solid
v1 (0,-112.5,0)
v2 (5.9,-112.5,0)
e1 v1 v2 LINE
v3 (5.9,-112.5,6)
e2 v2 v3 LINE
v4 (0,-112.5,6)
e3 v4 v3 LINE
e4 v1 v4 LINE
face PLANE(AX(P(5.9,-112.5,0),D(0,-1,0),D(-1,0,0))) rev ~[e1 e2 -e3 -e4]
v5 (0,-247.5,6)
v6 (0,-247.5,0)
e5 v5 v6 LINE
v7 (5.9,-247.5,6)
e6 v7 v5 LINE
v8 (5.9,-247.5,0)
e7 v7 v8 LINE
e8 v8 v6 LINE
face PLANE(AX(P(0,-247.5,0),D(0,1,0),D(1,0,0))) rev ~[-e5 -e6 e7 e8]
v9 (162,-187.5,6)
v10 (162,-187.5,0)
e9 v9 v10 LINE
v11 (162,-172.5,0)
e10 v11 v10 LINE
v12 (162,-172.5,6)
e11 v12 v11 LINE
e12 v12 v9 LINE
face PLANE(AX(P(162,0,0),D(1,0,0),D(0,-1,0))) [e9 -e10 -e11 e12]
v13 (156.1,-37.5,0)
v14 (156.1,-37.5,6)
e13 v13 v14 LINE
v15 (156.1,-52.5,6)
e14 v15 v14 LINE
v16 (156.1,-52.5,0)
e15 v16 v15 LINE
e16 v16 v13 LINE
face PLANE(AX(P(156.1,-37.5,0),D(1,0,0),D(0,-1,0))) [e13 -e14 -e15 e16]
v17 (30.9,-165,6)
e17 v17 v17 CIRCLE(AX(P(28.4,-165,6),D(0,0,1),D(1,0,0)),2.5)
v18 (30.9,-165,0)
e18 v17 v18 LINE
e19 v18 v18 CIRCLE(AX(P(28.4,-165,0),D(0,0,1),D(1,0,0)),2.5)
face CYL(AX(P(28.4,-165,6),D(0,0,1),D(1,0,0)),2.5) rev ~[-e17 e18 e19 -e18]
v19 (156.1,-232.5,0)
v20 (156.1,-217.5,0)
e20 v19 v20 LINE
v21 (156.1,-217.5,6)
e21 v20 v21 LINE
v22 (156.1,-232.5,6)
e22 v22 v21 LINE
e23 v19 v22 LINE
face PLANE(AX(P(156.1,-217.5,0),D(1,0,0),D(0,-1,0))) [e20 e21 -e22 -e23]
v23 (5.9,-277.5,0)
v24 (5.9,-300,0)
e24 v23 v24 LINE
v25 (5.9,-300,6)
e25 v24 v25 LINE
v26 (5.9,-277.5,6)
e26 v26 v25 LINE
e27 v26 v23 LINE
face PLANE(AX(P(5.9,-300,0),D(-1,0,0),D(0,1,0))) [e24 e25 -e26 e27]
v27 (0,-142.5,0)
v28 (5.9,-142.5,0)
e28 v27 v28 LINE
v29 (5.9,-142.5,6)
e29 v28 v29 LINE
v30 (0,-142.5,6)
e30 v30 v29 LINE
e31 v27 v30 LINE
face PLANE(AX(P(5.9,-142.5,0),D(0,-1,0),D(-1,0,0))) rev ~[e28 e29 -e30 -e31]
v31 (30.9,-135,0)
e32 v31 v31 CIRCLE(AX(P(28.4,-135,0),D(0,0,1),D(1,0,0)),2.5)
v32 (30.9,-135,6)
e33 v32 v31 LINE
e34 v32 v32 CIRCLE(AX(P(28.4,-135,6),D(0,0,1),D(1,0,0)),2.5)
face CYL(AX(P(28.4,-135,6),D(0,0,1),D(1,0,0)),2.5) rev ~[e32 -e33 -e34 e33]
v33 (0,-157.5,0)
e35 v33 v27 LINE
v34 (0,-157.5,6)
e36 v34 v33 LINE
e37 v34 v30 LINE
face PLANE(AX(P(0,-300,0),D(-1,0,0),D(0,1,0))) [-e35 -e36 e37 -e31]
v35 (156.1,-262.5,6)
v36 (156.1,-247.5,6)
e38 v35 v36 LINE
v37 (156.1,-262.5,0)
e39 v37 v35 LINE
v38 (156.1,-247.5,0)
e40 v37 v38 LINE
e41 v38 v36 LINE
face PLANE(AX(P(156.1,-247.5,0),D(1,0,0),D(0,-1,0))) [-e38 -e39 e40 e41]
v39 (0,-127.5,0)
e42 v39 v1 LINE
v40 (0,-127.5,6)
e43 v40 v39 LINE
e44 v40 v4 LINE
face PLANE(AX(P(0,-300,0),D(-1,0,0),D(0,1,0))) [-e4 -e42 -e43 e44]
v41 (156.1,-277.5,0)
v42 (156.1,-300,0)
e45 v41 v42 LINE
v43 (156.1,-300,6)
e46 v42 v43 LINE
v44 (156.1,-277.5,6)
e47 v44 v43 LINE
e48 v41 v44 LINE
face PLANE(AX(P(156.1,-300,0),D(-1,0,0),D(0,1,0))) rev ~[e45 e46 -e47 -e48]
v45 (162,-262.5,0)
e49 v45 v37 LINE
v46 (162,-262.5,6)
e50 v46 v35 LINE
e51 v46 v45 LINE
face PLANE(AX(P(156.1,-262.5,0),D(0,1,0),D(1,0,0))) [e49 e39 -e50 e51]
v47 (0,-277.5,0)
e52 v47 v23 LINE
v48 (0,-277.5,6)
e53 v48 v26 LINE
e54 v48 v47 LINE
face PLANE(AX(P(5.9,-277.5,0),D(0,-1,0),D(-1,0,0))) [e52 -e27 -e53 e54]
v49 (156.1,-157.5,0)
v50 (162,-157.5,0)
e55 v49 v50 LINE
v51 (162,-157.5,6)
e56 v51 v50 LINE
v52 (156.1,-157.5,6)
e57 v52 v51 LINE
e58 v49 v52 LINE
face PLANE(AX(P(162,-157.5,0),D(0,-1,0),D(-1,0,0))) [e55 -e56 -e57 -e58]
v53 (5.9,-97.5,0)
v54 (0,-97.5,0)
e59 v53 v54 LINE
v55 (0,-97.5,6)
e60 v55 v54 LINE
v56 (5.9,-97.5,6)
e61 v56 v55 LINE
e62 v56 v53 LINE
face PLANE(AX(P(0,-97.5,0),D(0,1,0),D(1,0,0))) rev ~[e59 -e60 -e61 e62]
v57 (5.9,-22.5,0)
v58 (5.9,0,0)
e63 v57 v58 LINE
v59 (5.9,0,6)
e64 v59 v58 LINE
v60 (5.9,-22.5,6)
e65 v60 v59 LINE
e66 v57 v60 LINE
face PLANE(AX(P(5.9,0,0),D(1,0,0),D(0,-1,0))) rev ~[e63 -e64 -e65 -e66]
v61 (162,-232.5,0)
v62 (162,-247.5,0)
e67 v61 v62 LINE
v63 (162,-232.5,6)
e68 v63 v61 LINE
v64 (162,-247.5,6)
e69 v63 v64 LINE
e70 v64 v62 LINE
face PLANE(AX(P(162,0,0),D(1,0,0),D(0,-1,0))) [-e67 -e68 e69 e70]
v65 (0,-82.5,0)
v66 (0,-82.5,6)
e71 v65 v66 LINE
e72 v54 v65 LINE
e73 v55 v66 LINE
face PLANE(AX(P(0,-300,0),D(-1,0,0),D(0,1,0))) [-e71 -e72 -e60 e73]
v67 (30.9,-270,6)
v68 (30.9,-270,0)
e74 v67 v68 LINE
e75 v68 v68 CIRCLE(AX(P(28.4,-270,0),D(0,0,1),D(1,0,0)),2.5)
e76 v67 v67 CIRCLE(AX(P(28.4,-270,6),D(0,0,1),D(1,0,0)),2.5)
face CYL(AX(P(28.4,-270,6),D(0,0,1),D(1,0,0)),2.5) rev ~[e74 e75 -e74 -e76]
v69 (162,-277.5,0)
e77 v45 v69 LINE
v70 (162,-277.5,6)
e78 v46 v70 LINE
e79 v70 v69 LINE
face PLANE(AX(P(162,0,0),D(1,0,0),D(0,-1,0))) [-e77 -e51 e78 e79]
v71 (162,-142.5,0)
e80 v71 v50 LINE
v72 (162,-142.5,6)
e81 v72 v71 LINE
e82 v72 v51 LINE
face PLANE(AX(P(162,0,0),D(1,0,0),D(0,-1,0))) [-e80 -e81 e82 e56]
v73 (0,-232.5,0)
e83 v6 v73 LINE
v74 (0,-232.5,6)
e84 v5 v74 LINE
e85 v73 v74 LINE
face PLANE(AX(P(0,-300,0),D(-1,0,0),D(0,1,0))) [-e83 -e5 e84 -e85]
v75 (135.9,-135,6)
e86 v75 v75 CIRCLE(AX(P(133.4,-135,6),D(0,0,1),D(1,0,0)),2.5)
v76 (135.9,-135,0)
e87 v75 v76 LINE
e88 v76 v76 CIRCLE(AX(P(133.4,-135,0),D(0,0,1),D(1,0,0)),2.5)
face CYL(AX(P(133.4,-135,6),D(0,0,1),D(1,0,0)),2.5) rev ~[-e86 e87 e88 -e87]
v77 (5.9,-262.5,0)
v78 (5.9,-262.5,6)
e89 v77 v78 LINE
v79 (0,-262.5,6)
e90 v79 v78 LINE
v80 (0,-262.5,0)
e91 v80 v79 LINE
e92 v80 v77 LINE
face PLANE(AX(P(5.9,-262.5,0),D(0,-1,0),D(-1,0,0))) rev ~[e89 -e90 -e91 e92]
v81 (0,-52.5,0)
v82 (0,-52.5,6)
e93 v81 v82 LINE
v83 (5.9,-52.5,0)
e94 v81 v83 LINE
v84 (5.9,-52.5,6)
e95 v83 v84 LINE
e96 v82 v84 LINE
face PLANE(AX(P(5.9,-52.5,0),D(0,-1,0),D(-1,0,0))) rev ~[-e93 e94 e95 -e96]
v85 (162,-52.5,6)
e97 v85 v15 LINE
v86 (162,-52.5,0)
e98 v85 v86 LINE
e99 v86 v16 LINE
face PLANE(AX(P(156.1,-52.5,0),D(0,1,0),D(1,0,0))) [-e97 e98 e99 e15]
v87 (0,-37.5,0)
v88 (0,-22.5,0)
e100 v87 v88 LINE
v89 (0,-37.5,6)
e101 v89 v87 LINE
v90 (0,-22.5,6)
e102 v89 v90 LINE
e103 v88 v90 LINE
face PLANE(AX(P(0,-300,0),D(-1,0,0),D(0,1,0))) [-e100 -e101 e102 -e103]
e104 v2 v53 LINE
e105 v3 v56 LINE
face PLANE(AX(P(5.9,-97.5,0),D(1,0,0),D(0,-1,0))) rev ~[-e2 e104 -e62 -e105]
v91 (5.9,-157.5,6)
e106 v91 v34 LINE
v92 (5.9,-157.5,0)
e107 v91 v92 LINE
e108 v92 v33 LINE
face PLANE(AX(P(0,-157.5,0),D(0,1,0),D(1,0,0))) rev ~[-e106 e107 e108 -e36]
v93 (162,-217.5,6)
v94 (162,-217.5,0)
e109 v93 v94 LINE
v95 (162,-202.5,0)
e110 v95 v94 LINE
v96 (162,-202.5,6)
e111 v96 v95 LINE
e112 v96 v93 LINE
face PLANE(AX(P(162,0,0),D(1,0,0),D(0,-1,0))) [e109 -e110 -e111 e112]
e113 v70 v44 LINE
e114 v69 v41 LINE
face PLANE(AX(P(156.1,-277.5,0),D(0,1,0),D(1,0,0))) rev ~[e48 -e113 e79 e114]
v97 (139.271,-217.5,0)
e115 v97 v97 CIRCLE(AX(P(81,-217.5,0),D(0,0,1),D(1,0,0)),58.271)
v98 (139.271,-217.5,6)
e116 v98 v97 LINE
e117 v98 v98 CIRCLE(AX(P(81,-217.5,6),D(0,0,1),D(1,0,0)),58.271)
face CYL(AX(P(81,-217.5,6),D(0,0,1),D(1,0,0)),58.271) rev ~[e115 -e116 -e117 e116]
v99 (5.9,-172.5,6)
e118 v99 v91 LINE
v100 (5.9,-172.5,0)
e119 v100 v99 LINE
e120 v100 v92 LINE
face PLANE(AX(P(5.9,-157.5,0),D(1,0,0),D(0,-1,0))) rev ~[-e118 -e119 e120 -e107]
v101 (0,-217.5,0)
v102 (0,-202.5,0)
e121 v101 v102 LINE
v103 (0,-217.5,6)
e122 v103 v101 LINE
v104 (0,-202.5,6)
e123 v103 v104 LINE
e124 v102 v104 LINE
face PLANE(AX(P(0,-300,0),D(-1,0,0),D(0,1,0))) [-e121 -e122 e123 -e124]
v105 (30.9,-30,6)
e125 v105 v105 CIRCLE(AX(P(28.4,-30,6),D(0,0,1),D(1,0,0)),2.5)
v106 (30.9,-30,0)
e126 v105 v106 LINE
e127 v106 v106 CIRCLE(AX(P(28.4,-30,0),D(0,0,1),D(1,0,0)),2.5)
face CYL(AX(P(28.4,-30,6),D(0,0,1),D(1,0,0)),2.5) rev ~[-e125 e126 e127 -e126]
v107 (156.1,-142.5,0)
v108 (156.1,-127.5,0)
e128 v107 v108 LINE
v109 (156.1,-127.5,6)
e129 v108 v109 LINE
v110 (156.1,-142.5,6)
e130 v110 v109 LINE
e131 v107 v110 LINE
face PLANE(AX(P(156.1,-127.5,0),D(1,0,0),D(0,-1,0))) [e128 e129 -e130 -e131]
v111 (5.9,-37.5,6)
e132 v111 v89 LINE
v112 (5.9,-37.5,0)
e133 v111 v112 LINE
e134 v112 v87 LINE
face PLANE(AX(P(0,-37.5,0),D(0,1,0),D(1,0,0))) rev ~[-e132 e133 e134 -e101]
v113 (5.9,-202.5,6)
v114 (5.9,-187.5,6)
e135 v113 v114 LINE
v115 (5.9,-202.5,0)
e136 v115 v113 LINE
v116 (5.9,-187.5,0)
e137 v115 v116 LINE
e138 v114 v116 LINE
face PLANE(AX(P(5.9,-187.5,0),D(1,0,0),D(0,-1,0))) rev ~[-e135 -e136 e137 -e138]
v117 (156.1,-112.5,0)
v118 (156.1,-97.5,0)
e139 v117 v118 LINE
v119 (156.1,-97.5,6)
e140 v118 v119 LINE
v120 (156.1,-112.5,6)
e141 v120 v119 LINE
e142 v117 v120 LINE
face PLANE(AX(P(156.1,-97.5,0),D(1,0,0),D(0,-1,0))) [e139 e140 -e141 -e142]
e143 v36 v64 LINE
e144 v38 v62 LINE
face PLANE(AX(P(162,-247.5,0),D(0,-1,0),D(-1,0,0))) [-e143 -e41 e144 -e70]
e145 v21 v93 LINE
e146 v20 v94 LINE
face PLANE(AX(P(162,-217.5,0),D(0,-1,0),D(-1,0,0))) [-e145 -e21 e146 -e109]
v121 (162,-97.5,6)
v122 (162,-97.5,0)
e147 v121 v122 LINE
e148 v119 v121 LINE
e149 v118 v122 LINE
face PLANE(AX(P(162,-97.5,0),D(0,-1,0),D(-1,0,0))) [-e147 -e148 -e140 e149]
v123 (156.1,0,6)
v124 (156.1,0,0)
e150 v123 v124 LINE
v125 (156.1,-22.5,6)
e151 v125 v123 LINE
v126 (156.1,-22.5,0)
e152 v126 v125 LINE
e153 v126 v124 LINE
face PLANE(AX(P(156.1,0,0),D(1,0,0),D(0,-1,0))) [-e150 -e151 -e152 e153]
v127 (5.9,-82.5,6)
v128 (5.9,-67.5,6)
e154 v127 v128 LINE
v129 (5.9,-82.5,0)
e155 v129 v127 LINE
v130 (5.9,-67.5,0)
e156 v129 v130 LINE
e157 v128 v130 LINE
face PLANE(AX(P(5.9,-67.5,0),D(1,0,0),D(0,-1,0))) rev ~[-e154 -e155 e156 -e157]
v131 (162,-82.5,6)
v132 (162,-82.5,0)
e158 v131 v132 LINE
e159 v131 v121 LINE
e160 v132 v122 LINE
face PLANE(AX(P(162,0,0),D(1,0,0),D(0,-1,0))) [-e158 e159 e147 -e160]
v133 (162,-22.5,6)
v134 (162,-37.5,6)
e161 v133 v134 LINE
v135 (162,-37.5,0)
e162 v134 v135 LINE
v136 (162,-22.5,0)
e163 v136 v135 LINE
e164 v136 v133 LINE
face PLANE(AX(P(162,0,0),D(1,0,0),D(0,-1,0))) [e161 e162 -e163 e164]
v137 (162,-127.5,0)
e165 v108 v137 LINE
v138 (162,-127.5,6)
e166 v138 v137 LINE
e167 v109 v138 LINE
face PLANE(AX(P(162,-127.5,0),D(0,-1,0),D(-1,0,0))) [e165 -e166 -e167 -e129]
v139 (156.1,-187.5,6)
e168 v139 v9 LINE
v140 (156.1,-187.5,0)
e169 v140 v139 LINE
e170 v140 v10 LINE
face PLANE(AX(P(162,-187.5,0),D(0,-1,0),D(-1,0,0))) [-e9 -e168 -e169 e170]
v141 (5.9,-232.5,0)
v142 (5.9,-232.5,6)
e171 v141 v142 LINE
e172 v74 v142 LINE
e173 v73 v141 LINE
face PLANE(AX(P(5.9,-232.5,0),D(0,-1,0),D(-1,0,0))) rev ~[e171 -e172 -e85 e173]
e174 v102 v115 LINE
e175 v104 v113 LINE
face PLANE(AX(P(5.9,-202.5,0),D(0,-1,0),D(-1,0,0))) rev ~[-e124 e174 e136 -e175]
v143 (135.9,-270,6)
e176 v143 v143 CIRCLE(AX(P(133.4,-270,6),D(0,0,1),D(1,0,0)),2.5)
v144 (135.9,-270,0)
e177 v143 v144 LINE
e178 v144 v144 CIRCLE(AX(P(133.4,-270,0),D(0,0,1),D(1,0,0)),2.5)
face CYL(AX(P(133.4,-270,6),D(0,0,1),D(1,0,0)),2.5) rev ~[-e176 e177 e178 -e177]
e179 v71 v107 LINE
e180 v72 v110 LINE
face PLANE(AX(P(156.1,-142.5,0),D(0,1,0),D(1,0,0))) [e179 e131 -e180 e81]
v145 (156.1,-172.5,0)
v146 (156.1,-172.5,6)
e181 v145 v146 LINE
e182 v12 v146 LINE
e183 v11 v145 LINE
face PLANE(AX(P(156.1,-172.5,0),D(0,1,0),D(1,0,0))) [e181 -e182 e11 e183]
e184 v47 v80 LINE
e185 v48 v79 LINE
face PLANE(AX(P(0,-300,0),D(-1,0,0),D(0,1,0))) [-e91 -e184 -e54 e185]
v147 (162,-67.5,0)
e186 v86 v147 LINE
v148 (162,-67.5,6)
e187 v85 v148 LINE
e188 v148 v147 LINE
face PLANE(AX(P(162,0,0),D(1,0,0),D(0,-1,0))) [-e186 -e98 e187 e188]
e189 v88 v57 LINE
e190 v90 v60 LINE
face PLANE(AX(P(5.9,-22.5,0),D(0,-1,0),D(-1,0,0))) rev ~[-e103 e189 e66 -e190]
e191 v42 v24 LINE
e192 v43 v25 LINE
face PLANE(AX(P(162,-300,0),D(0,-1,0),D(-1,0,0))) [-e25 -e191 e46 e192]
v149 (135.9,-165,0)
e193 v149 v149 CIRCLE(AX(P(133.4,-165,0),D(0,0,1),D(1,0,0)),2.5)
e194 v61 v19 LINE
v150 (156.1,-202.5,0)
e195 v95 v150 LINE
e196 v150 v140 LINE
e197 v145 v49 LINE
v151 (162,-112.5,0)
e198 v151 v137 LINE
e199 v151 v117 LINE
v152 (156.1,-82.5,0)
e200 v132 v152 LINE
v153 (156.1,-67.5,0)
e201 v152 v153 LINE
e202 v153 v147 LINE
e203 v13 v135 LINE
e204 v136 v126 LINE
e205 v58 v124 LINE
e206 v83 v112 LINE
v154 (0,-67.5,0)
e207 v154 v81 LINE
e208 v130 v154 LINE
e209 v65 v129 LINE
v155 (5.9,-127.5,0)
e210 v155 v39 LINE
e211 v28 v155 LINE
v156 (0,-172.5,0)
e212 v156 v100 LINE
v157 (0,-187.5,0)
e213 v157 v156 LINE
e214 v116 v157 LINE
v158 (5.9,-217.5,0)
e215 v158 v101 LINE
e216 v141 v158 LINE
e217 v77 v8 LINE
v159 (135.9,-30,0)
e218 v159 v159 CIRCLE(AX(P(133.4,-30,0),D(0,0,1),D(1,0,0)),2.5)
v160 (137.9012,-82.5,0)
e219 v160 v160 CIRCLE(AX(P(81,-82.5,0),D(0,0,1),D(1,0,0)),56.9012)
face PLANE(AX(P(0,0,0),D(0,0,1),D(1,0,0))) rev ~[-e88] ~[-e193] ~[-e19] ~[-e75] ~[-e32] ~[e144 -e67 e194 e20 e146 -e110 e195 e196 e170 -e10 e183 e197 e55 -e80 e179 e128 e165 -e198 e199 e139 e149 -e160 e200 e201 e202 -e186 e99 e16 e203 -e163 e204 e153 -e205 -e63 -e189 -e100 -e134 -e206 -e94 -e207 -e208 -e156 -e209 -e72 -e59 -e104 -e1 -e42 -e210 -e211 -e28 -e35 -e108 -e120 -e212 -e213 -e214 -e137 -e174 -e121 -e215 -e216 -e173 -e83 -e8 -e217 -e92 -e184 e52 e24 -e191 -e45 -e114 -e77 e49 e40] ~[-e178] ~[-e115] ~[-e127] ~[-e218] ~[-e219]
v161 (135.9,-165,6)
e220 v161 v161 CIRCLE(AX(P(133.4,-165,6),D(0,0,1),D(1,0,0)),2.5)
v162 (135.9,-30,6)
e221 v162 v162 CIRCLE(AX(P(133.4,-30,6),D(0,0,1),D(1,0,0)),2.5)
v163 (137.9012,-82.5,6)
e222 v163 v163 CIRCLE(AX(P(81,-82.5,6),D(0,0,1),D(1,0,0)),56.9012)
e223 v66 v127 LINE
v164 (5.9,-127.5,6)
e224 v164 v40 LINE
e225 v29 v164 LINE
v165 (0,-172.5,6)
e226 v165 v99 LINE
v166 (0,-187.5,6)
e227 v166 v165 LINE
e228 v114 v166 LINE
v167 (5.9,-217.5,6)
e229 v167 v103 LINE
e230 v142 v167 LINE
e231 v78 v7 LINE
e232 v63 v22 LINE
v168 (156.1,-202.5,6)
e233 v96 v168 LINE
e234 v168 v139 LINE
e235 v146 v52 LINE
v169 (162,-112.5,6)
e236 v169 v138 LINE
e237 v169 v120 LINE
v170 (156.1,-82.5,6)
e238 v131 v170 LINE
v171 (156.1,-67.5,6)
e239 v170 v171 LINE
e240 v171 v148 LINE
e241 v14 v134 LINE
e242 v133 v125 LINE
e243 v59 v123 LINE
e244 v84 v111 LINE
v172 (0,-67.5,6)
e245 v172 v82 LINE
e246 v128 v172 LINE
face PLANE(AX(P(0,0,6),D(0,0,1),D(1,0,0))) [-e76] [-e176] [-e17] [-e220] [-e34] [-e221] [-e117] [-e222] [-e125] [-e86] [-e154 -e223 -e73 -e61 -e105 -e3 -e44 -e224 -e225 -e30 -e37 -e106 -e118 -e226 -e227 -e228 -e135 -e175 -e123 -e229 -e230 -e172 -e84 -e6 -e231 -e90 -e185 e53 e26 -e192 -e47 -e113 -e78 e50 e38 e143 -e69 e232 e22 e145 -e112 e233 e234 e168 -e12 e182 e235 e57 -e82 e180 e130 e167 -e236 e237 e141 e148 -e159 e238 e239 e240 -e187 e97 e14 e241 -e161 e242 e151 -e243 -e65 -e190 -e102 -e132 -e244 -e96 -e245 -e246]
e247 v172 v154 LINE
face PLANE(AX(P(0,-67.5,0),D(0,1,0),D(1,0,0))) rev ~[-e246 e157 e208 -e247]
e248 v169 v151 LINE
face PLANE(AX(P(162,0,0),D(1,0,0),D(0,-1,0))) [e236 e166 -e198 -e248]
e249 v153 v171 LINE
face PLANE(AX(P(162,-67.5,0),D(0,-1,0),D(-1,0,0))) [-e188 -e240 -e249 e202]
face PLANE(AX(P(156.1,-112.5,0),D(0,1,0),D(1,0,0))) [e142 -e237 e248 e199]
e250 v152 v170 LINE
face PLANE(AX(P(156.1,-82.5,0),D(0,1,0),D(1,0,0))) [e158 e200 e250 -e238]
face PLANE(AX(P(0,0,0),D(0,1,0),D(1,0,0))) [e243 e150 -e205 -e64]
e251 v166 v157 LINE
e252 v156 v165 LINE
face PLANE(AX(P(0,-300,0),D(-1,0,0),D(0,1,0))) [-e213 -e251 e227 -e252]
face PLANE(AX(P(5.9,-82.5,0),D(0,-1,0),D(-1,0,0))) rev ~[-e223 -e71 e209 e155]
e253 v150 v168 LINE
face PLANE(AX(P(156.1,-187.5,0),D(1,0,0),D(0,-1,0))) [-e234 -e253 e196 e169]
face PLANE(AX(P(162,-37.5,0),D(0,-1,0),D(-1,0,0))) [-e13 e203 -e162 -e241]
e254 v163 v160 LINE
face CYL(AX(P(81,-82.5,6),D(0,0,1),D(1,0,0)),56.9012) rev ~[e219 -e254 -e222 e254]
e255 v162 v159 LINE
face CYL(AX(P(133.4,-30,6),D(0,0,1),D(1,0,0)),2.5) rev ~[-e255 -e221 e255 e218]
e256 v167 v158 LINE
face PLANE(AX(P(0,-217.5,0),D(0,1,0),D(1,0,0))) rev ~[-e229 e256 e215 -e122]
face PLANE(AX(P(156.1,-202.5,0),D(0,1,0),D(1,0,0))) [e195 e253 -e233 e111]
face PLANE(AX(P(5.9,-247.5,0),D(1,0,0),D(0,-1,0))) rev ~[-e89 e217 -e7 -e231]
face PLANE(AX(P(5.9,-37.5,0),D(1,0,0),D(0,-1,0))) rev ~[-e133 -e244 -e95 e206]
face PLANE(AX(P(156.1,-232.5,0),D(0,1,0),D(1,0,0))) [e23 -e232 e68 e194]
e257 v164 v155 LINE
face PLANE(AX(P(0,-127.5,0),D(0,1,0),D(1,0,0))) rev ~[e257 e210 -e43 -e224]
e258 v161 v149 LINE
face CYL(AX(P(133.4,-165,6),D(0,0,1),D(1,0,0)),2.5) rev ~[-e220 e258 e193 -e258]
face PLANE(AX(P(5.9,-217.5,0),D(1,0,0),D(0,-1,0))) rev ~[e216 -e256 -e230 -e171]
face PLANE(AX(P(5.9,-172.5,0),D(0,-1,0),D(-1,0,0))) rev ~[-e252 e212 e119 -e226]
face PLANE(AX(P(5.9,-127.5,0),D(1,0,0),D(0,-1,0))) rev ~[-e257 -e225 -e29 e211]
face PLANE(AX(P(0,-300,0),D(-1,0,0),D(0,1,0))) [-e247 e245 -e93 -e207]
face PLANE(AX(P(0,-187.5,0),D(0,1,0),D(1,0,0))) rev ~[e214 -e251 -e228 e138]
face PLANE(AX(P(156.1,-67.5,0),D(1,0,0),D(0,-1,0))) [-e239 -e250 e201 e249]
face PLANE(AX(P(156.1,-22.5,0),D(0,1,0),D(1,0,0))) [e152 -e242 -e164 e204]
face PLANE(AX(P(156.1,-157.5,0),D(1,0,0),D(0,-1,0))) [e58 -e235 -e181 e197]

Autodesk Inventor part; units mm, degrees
ref_plane "YZ Plane" through (0, 0, 0) normal (1, 0, 0) x (0, 1, 0)
ref_plane "XZ Plane" through (0, 0, 0) normal (0, 1, 0) x (-1, 0, 0)
ref_plane "XY Plane" through (0, 0, 0) normal (0, 0, 1) x (1, 0, 0)
sketch "Sketch1" plane through (0, 0, 0) normal (0, 0, 1) x (1, 0, 0)
  line L0 (0, 0) -> (162, 0)
  line L1 (162, 0) -> (162, -300)
  line L2 (162, -300) -> (0, -300)
  line L3 (0, -300) -> (0, 0)
  dimension "d0" = 162
  dimension "d1" = 300
extrude "Extrusion1" add sketch "Sketch1" along normal blind 6
sketch "Sketch2" plane through (0, 0, 0) normal (0, 0, -1) x (-1, 0, 0)
  line L0 (0, 0) -> (-5.9, 0)
  line L1 (-5.9, 0) -> (-5.9, -22.5)
  line L2 (-5.9, -22.5) -> (0, -22.5)
  line L3 (0, -22.5) -> (0, 0)
  line L4 (-162, 0) -> (0, 0) projected
  line L5 (0, 0) -> (0, -300) projected
  line L6 (0, -37.5) -> (-5.9, -37.5)
  line L7 (-5.9, -37.5) -> (-5.9, -52.5)
  line L8 (-5.9, -52.5) -> (0, -52.5)
  line L9 (0, -52.5) -> (0, -37.5)
  line L10 (0, -30) -> (-5.9, -30)
  line L11 (0, -67.5) -> (-5.9, -67.5)
  line L12 (-5.9, -67.5) -> (-5.9, -82.5)
  line L13 (-5.9, -82.5) -> (0, -82.5)
  line L14 (0, -82.5) -> (0, -67.5)
  line L15 (0, -60) -> (-5.9, -60)
  line L16 (0, -97.5) -> (-5.9, -97.5)
  line L17 (-5.9, -97.5) -> (-5.9, -112.5)
  line L18 (-5.9, -112.5) -> (0, -112.5)
  line L19 (0, -112.5) -> (0, -97.5)
  line L20 (0, -90) -> (-5.9, -90)
  line L21 (0, -127.5) -> (-5.9, -127.5)
  line L22 (-5.9, -127.5) -> (-5.9, -142.5)
  line L23 (-5.9, -142.5) -> (0, -142.5)
  line L24 (0, -142.5) -> (0, -127.5)
  line L25 (0, -120) -> (-5.9, -120)
  line L26 (0, -157.5) -> (-5.9, -157.5)
  line L27 (-5.9, -157.5) -> (-5.9, -172.5)
  line L28 (-5.9, -172.5) -> (0, -172.5)
  line L29 (0, -172.5) -> (0, -157.5)
  line L30 (0, -150) -> (-5.9, -150)
  line L31 (0, -187.5) -> (-5.9, -187.5)
  line L32 (-5.9, -187.5) -> (-5.9, -202.5)
  line L33 (-5.9, -202.5) -> (0, -202.5)
  line L34 (0, -202.5) -> (0, -187.5)
  line L35 (0, -180) -> (-5.9, -180)
  line L36 (0, -217.5) -> (-5.9, -217.5)
  line L37 (-5.9, -217.5) -> (-5.9, -232.5)
  line L38 (-5.9, -232.5) -> (0, -232.5)
  line L39 (0, -232.5) -> (0, -217.5)
  line L40 (0, -210) -> (-5.9, -210)
  line L41 (0, -247.5) -> (-5.9, -247.5)
  line L42 (-5.9, -247.5) -> (-5.9, -262.5)
  line L43 (-5.9, -262.5) -> (0, -262.5)
  line L44 (0, -262.5) -> (0, -247.5)
  line L45 (0, -300) -> (-5.9, -300)
  line L46 (-5.9, -300) -> (-5.9, -277.5)
  line L47 (-5.9, -277.5) -> (0, -277.5)
  line L48 (0, -277.5) -> (0, -300)
  line L49 (-162, 0) -> (0, 0) projected
  line L50 (-81, 0) -> (-81, -60)
  line L51 (-162, 0) -> (-156.1, 0)
  line L52 (-156.1, 0) -> (-156.1, -22.5)
  line L53 (-156.1, -22.5) -> (-162, -22.5)
  line L54 (-162, -22.5) -> (-162, 0)
  line L55 (0, 0) -> (-162, 0)
  line L56 (-162, 0) -> (-162, -300)
  line L57 (-162, -37.5) -> (-156.1, -37.5)
  line L58 (-156.1, -37.5) -> (-156.1, -52.5)
  line L59 (-156.1, -52.5) -> (-162, -52.5)
  line L60 (-162, -52.5) -> (-162, -37.5)
  line L61 (-162, -30) -> (-156.1, -30)
  line L62 (-162, -67.5) -> (-156.1, -67.5)
  line L63 (-156.1, -67.5) -> (-156.1, -82.5)
  line L64 (-156.1, -82.5) -> (-162, -82.5)
  line L65 (-162, -82.5) -> (-162, -67.5)
  line L66 (-162, -60) -> (-156.1, -60)
  line L67 (-162, -97.5) -> (-156.1, -97.5)
  line L68 (-156.1, -97.5) -> (-156.1, -112.5)
  line L69 (-156.1, -112.5) -> (-162, -112.5)
  line L70 (-162, -112.5) -> (-162, -97.5)
  line L71 (-162, -90) -> (-156.1, -90)
  line L72 (-162, -127.5) -> (-156.1, -127.5)
  line L73 (-156.1, -127.5) -> (-156.1, -142.5)
  line L74 (-156.1, -142.5) -> (-162, -142.5)
  line L75 (-162, -142.5) -> (-162, -127.5)
  line L76 (-162, -120) -> (-156.1, -120)
  line L77 (-162, -157.5) -> (-156.1, -157.5)
  line L78 (-156.1, -157.5) -> (-156.1, -172.5)
  line L79 (-156.1, -172.5) -> (-162, -172.5)
  line L80 (-162, -172.5) -> (-162, -157.5)
  line L81 (-162, -150) -> (-156.1, -150)
  line L82 (-162, -187.5) -> (-156.1, -187.5)
  line L83 (-156.1, -187.5) -> (-156.1, -202.5)
  line L84 (-156.1, -202.5) -> (-162, -202.5)
  line L85 (-162, -202.5) -> (-162, -187.5)
  line L86 (-162, -180) -> (-156.1, -180)
  line L87 (-162, -217.5) -> (-156.1, -217.5)
  line L88 (-156.1, -217.5) -> (-156.1, -232.5)
  line L89 (-156.1, -232.5) -> (-162, -232.5)
  line L90 (-162, -232.5) -> (-162, -217.5)
  line L91 (-162, -210) -> (-156.1, -210)
  line L92 (-162, -247.5) -> (-156.1, -247.5)
  line L93 (-156.1, -247.5) -> (-156.1, -262.5)
  line L94 (-156.1, -262.5) -> (-162, -262.5)
  line L95 (-162, -262.5) -> (-162, -247.5)
  line L96 (-162, -300) -> (-156.1, -300)
  line L97 (-156.1, -300) -> (-156.1, -277.5)
  line L98 (-156.1, -277.5) -> (-162, -277.5)
  line L99 (-162, -277.5) -> (-162, -300)
  line L100 (0, 0) -> (-162, 0)
  point P0 (-162, -277.5)
  point P1 (0, -277.5)
  point P2 (0, -262.5)
  point P3 (0, -232.5)
  point P4 (0, -202.5)
  point P5 (-162, -82.5)
  point P6 (0, -172.5)
  point P7 (-162, -157.5)
  point P8 (0, -142.5)
  point P9 (-162, -142.5)
  point P10 (0, -112.5)
  point P11 (-162, -97.5)
  point P12 (0, -82.5)
  point P13 (-162, -247.5)
  point P14 (-156.1, 0)
  point P15 (-162, -232.5)
  dimension "d4" = 0
  dimension "d5" = 5.9
  dimension "d6" = 0
  dimension "d7" = 22.5
  dimension "d8" = 5.9
  dimension "d9" = 15
  dimension "d10" = 15
  dimension "d13" = 30
  dimension "d18" = 22.5
  dimension "d19" = 5.9
extrude "Extrusion2" cut sketch "Sketch2" against normal mid plane 24
sketch "Sketch3" plane through (0, 0, 6) normal (0, 0, 1) x (1, 0, 0)
  circle A0 centre (28.4, -30) radius 2.5
  circle A1 centre (133.4, -30) radius 2.5
  circle A2 centre (28.4, -135) radius 2.5
  circle A3 centre (133.4, -135) radius 2.5
  circle A4 centre (28.4, -165) radius 2.5
  circle A5 centre (133.4, -165) radius 2.5
  circle A6 centre (28.4, -270) radius 2.5
  circle A7 centre (133.4, -270) radius 2.5
  line L0 (5.9, 0) -> (5.9, -22.5) projected
  line L1 (156.1, -22.5) -> (156.1, 0) projected
  line L2 (5.9, -300) -> (156.1, -300) projected
  line L3 (156.1, 0) -> (5.9, 0) projected
  circle A8 centre (81, -82.5) radius 56.9012
  circle A9 centre (81, -217.5) radius 58.271
  line L4 (156.1, -202.5) -> (156.1, -187.5) projected
  point P0 (0, 0)
  dimension "d22" = 5
  dimension "d23" = 5
  dimension "d24" = 5
  dimension "d25" = 5
  dimension "d26" = 5
  dimension "d27" = 5
  dimension "d28" = 5
  dimension "d29" = 5
  dimension "d30" = 105
  dimension "d31" = 105
  dimension "d32" = 105
  dimension "d33" = 22.5
  dimension "d34" = 150.2
  dimension "d35" = 105
  dimension "d36" = 105
  dimension "d37" = 105
  dimension "d38" = 30
  dimension "d39" = 22.5
  dimension "d40" = 30
  dimension "d41" = 105
  dimension "d44" = 135
  dimension "d45" = 30
  dimension "d46" = 82.5
  dimension "d47" = 75.1
  dimension "d48" = 75.1
extrude "Extrusion3" cut sketch "Sketch3" along normal mid plane 24
equation "\"d2\" = WoodWidth"
equation "\"d5\" = WoodWidth - LaserWith"
equation "\"d8\" = d5"
equation "\"d18\" = d7"
equation "\"d19\" = d5"
equation "\"d20\" = 4 * WoodWidth"
equation "\"d39\" = d33"
equation "\"d40\" = d38"
equation "\"d42\" = 4 * WoodWidth"
equation "\"WoodWidth\" = 6"
equation "\"LaserWith\" = 0.1"
properties part number "BackFrontPannel"
